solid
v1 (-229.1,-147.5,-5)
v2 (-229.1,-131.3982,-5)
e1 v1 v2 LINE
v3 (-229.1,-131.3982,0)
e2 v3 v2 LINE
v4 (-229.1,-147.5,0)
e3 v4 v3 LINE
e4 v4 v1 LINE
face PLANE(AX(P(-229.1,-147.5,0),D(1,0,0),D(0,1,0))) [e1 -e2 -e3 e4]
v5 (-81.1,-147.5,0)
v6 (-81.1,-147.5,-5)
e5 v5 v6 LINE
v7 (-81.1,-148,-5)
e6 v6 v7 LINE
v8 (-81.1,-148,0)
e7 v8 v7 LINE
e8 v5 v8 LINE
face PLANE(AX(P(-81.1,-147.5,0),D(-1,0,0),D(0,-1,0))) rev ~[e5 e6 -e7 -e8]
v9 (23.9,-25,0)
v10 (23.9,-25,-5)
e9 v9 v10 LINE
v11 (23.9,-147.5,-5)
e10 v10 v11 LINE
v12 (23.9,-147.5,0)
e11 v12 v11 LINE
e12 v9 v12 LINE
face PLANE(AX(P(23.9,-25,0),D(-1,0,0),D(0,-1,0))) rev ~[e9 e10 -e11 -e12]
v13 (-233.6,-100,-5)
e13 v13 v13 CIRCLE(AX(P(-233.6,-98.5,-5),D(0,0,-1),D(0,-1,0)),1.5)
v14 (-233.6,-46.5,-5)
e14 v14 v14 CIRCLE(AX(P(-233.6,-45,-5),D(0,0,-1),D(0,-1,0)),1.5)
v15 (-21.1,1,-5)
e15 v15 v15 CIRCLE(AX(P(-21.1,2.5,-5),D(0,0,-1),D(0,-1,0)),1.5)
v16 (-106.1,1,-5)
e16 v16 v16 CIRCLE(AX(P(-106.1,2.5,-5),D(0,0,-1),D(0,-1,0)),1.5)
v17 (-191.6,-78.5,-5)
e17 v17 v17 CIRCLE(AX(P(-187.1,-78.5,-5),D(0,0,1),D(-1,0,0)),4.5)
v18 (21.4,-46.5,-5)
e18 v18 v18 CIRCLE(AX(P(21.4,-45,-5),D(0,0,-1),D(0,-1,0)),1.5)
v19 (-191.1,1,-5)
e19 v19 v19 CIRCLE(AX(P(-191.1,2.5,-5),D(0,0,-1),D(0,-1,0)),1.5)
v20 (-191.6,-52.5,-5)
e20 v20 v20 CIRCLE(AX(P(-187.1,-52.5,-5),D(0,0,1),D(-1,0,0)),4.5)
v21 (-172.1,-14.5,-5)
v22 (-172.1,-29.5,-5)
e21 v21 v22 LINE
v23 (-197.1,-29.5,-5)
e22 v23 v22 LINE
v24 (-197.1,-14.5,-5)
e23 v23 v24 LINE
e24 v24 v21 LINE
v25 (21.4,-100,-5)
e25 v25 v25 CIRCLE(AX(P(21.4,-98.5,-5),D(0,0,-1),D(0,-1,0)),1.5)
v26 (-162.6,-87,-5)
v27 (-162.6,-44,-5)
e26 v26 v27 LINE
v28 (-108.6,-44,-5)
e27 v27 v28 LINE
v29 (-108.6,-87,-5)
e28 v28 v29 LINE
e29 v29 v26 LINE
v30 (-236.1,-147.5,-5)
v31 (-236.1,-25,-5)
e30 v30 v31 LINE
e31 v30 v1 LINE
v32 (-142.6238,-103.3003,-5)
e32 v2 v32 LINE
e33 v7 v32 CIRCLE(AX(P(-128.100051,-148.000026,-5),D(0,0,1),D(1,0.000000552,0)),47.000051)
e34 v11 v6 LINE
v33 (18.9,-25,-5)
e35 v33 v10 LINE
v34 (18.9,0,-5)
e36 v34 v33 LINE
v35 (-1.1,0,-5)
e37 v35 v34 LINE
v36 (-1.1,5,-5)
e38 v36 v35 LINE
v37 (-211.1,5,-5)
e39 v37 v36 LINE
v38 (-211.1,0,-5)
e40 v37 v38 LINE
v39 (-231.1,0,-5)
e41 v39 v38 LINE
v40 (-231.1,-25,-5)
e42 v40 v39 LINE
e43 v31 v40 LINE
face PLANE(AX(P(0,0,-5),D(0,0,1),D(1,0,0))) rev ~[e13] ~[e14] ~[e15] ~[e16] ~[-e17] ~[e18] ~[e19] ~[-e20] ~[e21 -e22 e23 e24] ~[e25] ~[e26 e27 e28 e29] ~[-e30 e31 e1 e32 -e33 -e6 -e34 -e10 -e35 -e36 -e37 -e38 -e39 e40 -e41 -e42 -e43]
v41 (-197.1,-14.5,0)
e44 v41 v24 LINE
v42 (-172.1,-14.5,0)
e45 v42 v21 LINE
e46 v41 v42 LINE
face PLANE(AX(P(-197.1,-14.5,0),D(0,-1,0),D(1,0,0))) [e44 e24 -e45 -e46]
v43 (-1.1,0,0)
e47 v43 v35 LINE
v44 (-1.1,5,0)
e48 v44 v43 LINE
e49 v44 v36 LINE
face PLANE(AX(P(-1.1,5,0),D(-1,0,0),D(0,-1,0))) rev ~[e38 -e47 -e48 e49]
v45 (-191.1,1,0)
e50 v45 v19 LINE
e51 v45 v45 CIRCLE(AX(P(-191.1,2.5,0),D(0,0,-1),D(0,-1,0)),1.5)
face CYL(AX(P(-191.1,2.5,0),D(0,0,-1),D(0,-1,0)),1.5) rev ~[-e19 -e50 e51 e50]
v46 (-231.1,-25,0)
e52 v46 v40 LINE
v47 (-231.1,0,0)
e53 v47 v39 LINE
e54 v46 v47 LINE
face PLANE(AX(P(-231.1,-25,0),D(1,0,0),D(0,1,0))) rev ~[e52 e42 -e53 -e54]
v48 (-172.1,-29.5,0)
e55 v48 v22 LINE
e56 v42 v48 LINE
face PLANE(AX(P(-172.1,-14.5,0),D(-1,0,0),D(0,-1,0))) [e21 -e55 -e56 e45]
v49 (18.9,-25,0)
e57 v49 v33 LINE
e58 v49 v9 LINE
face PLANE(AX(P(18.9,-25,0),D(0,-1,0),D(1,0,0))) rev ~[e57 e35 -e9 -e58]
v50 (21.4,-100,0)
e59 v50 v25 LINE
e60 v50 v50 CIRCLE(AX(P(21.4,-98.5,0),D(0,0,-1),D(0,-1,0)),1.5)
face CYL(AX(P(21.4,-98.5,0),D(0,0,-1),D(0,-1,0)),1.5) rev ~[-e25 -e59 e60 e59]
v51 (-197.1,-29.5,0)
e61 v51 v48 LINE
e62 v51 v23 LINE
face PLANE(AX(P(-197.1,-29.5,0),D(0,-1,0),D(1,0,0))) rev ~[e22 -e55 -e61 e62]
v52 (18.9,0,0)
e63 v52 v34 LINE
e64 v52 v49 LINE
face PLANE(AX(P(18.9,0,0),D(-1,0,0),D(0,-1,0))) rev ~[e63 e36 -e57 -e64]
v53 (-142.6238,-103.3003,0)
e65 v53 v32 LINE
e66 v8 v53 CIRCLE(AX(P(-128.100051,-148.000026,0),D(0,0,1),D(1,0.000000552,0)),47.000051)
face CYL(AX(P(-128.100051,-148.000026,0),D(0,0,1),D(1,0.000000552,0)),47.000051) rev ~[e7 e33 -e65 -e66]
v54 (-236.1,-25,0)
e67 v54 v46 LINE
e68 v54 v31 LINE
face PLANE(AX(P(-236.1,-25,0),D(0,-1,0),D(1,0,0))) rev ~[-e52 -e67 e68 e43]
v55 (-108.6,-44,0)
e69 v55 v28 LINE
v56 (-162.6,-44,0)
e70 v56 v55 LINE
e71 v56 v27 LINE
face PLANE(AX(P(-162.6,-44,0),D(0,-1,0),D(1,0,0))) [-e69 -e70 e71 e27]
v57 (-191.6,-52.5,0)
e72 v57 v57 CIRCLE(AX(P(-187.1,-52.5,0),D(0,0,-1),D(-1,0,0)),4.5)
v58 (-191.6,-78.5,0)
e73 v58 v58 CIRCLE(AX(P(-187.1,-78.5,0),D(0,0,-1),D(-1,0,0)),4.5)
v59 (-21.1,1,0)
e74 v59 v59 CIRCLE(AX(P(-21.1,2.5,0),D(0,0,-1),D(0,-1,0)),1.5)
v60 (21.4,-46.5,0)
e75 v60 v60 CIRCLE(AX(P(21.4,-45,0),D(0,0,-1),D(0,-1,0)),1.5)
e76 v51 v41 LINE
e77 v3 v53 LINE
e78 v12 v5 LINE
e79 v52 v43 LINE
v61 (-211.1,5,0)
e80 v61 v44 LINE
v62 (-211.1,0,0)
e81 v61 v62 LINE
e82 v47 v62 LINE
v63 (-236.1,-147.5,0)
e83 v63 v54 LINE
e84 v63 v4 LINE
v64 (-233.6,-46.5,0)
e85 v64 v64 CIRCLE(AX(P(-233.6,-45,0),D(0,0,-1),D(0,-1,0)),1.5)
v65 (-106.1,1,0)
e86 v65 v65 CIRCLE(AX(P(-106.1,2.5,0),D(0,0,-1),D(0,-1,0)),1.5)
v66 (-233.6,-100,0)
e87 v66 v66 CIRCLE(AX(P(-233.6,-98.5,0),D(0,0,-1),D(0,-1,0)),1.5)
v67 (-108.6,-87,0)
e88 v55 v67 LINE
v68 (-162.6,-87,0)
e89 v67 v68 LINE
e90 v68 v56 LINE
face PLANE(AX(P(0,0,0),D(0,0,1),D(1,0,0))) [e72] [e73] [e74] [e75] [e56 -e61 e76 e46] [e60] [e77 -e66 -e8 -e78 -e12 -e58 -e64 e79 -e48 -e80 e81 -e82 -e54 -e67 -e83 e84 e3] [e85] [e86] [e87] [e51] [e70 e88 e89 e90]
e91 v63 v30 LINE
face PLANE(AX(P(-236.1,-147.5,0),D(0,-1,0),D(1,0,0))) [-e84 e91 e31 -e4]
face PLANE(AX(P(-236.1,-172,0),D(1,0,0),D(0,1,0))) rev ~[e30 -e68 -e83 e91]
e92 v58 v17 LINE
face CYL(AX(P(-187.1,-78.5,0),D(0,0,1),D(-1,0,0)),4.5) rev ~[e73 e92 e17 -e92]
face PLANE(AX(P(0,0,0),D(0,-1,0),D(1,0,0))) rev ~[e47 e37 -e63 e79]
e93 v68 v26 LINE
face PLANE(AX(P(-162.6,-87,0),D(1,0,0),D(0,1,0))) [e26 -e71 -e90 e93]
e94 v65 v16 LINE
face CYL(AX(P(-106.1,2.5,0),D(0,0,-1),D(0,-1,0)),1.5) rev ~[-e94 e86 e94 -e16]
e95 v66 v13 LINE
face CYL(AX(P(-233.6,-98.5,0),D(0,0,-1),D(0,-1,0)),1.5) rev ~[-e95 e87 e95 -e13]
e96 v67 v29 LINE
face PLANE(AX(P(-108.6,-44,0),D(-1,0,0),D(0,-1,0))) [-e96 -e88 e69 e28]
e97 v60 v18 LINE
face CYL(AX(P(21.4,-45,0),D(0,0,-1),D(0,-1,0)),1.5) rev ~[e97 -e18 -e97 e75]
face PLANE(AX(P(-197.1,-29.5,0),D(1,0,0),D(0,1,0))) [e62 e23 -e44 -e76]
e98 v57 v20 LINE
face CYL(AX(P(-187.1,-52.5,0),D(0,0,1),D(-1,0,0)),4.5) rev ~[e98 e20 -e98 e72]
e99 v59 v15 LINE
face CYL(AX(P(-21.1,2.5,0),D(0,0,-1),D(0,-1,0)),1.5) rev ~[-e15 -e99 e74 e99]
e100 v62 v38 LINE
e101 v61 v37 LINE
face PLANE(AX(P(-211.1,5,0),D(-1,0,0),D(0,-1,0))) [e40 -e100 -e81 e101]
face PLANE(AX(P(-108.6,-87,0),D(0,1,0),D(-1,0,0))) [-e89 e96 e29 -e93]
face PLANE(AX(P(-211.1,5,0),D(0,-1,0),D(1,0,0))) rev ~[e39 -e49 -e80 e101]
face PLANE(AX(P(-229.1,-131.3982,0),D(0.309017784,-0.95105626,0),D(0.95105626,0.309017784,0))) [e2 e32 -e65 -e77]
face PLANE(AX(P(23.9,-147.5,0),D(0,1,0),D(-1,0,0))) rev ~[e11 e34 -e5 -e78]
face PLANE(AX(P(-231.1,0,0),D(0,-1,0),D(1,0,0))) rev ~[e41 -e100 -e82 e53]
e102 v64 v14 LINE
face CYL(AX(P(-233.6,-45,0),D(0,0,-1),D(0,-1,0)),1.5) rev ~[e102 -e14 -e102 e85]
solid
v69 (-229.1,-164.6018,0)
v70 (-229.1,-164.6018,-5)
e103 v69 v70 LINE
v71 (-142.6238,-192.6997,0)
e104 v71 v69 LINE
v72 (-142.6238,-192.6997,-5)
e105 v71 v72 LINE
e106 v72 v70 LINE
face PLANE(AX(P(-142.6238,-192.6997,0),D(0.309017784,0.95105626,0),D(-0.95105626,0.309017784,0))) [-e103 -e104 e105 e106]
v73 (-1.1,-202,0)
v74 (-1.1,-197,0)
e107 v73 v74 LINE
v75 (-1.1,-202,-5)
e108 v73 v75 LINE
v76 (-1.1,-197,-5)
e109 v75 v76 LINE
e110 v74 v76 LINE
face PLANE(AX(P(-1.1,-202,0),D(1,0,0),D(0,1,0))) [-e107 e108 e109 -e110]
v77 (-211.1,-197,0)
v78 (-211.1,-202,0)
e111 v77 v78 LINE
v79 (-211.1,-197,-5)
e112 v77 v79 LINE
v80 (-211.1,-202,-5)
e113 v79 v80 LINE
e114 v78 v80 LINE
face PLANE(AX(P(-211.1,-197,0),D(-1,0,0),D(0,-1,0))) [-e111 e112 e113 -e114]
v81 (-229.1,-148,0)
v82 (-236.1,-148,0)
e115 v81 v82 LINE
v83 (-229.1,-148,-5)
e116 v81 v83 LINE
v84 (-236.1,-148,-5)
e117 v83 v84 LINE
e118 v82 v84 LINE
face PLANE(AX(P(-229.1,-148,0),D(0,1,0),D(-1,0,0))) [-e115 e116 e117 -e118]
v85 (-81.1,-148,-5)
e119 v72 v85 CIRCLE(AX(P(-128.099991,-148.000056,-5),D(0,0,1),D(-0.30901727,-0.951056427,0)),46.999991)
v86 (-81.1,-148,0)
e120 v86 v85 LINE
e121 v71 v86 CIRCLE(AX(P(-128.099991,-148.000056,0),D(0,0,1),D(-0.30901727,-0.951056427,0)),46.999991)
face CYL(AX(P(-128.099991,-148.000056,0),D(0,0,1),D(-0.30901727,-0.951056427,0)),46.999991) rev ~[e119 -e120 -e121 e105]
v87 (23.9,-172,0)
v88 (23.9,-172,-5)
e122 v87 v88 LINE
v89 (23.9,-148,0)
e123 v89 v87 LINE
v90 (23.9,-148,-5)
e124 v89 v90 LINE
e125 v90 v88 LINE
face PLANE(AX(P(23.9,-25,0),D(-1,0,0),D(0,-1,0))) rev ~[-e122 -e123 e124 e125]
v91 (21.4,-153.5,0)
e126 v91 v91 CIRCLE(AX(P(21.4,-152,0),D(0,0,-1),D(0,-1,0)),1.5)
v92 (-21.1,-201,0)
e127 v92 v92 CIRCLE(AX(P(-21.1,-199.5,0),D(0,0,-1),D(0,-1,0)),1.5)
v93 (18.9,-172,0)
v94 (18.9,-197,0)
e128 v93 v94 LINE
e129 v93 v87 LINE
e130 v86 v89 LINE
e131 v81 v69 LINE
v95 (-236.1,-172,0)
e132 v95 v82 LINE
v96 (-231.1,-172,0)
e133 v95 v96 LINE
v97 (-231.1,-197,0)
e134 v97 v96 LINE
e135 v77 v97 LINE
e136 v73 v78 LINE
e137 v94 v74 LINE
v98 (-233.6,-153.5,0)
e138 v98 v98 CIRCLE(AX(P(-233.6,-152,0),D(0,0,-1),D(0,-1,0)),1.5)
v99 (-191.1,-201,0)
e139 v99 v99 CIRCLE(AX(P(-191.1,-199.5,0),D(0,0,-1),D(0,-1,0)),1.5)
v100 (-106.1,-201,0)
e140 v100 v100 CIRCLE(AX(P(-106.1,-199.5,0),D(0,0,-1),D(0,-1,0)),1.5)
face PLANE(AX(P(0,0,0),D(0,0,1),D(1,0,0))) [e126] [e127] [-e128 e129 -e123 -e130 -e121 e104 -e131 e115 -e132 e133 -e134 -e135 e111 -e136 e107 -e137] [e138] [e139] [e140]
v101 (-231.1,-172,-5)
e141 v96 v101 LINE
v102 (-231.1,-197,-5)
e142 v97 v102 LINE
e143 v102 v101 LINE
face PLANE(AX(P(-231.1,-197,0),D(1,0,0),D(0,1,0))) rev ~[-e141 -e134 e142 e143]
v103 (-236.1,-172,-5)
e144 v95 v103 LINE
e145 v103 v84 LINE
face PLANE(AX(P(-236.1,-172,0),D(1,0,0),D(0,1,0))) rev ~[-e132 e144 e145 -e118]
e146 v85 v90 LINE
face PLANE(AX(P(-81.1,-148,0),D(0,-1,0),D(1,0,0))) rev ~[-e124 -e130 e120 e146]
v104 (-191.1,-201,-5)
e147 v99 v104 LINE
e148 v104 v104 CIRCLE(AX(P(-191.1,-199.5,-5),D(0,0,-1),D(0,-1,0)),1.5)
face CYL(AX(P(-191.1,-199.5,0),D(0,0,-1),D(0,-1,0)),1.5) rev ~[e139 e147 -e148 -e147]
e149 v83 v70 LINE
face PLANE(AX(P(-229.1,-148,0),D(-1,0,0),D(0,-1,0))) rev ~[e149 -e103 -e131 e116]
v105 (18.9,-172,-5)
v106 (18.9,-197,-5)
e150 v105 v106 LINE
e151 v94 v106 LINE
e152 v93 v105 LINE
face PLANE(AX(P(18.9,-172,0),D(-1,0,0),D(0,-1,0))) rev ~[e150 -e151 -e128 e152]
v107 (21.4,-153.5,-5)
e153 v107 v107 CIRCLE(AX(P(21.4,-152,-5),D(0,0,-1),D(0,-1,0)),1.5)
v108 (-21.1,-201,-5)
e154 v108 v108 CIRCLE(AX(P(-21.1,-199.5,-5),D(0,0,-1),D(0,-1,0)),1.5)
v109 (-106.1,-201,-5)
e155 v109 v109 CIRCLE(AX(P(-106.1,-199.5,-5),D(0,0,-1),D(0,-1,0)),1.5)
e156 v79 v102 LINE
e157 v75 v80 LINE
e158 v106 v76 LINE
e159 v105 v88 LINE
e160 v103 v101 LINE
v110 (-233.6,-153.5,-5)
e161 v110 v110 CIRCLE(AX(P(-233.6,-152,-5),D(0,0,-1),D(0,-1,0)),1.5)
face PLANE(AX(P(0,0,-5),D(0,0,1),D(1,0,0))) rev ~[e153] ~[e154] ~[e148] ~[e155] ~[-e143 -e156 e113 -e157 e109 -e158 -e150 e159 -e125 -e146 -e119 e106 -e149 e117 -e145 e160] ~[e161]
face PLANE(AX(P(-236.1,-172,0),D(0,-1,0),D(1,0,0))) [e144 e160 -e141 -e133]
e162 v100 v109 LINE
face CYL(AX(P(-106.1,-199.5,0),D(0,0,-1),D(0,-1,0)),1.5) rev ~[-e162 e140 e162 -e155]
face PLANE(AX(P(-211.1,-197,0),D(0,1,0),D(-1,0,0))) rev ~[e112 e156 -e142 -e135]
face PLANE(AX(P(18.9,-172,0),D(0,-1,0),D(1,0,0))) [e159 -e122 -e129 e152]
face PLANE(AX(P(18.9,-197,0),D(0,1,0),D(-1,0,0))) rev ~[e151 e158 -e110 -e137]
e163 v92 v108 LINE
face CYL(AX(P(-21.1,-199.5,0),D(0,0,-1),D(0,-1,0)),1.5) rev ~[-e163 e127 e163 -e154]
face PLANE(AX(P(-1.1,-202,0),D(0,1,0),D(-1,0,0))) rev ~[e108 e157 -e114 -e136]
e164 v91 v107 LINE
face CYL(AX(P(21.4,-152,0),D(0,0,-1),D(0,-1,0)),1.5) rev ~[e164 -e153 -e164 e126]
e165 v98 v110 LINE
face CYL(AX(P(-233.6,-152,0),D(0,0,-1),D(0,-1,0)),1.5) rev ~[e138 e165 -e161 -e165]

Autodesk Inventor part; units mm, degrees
ref_plane "YZ Plane" through (0, 0, 0) normal (1, 0, 0) x (0, 1, 0)
ref_plane "XZ Plane" through (0, 0, 0) normal (0, 1, 0) x (-1, 0, 0)
ref_plane "XY Plane" through (0, 0, 0) normal (0, 0, 1) x (1, 0, 0)
sketch "Sketch1" plane through (0, 0, 0) normal (0, 0, 1) x (1, 0, 0)
  line L0 (-236.1, 0) -> (-211.1, 0) construction
  line L1 (-211.1, 0) -> (-211.1, 5) construction
  line L2 (-236.1, 5) -> (-211.1, 5) construction
  line L3 (-236.1, 0) -> (-236.1, 5) construction
  circle A0 centre (-21.1, 2.5) radius 1.2295 construction
  circle A1 centre (-106.1, 2.5) radius 1.2295 construction
  circle A2 centre (-191.1, 2.5) radius 1.2295 construction
  line L4 (-211.1, 0) -> (0, 0) construction
  line L5 (-1.1, 0) -> (-1.1, 5) construction
  line L6 (-211.1, 5) -> (-1.1, 5) construction
  line L7 (-211.1, 0) -> (-211.1, 5) construction
  line L8 (0, 0) -> (23.9, 0) construction
  line L9 (23.9, 0) -> (23.9, 5) construction
  line L10 (-1.1, 5) -> (23.9, 5) construction
  line L11 (-1.1, 0) -> (-1.1, 5) construction
  line L12 (18.9, 0) -> (18.9, -25) construction
  line L13 (18.9, -25) -> (23.9, -25) construction
  line L14 (23.9, 0) -> (23.9, -25) construction
  line L15 (18.9, 0) -> (23.9, 0) construction
  circle A3 centre (21.4, -45) radius 1.2295 construction
  circle A4 centre (21.4, -98.5) radius 1.2295 construction
  circle A5 centre (21.4, -152) radius 1.2295 construction
  line L16 (18.9, -25) -> (18.9, -172) construction
  line L17 (18.9, -172) -> (23.9, -172) construction
  line L18 (23.9, -25) -> (23.9, -172) construction
  line L19 (18.9, -25) -> (23.9, -25) construction
  line L20 (-236.1, 0) -> (-236.1, -25) construction
  line L21 (-236.1, -25) -> (-231.1, -25) construction
  line L22 (-231.1, 0) -> (-231.1, -25) construction
  line L23 (-236.1, 0) -> (-231.1, 0) construction
  circle A6 centre (-233.6, -45) radius 1.2295 construction
  circle A7 centre (-233.6, -98.5) radius 1.2295 construction
  circle A8 centre (-233.6, -152) radius 1.2295 construction
  line L24 (-236.1, -25) -> (-236.1, -172) construction
  line L25 (-236.1, -172) -> (-231.1, -172) construction
  line L26 (-231.1, -25) -> (-231.1, -172) construction
  line L27 (-236.1, -25) -> (-231.1, -25) construction
  line L28 (-236.1, -172) -> (-236.1, -197) construction
  line L29 (-236.1, -197) -> (-231.1, -197) construction
  line L30 (-231.1, -172) -> (-231.1, -197) construction
  line L31 (-236.1, -172) -> (-231.1, -172) construction
  line L32 (-211.1, -197) -> (-236.1, -197) construction
  line L33 (-236.1, -197) -> (-236.1, -202) construction
  line L34 (-211.1, -202) -> (-236.1, -202) construction
  line L35 (-211.1, -197) -> (-211.1, -202) construction
  circle A9 centre (-191.1, -199.5) radius 1.2295 construction
  circle A10 centre (-106.1, -199.5) radius 1.2295 construction
  circle A11 centre (-21.1, -199.5) radius 1.2295 construction
  line L36 (-1.1, -197) -> (-211.1, -197) construction
  line L37 (-211.1, -197) -> (-211.1, -202) construction
  line L38 (-1.1, -202) -> (-211.1, -202) construction
  line L39 (-1.1, -197) -> (-1.1, -202) construction
  line L40 (23.9, -197) -> (-1.1, -197) construction
  line L41 (-1.1, -197) -> (-1.1, -202) construction
  line L42 (23.9, -202) -> (-1.1, -202) construction
  line L43 (23.9, -197) -> (23.9, -202) construction
  line L44 (18.9, -172) -> (18.9, -197) construction
  line L45 (18.9, -197) -> (23.9, -197) construction
  line L46 (23.9, -172) -> (23.9, -197) construction
  line L47 (18.9, -172) -> (23.9, -172) construction
  line L48 (-1.1, -202) -> (-211.1, -202)
  line L49 (-211.1, -197) -> (-231.1, -197)
  line L50 (-231.1, -197) -> (-231.1, -172)
  line L51 (-236.1, -172) -> (-236.1, -25)
  line L52 (-231.1, -25) -> (-231.1, 0)
  line L53 (-231.1, 0) -> (-211.1, 0)
  line L54 (-211.1, 5) -> (-1.1, 5)
  line L55 (0, 0) -> (18.9, 0)
  line L56 (18.9, 0) -> (18.9, -25)
  line L57 (23.9, -25) -> (23.9, -172)
  line L58 (18.9, -172) -> (18.9, -197)
  line L59 (18.9, -197) -> (-1.1, -197)
  line L60 (-236.1, -172) -> (-231.1, -172)
  line L61 (-211.1, -197) -> (-211.1, -202)
  line L62 (-1.1, -202) -> (-1.1, -197)
  line L63 (18.9, -172) -> (23.9, -172)
  line L64 (18.9, -172) -> (18.9, -172)
  line L65 (18.9, -25) -> (23.9, -25)
  line L66 (18.9, -25) -> (18.9, -25)
  line L67 (-1.1, 5) -> (-1.1, 0)
  line L68 (-1.1, 0) -> (0, 0)
  line L69 (-211.1, 5) -> (-211.1, 0)
  line L70 (-211.1, 0) -> (-211.1, 0)
  line L71 (-236.1, -25) -> (-231.1, -25)
  line L72 (-231.1, -25) -> (-231.1, -25)
  dimension "d0" = 0
  dimension "d1" = 0
  dimension "d2" = 0
  dimension "d3" = 0
  dimension "d4" = 0
  dimension "d5" = 0
  dimension "d6" = 0
  dimension "d7" = 0
extrude "Extrusion1" add sketch "Sketch1" against normal blind 5
sketch "Sketch2" plane through (0, 0, 0) normal (0, 0, 1) x (1, 0, 0)
  circle A0 centre (-21.1, -199.5) radius 1.2295 construction
  circle A1 centre (-106.1, -199.5) radius 1.2295 construction
  circle A2 centre (-191.1, -199.5) radius 1.2295 construction
  circle A3 centre (-233.6, -152) radius 1.2295 construction
  circle A4 centre (-233.6, -98.5) radius 1.2295 construction
  circle A5 centre (-233.6, -45) radius 1.2295 construction
  circle A6 centre (-191.1, 2.5) radius 1.2295 construction
  circle A7 centre (-106.1, 2.5) radius 1.2295 construction
  circle A8 centre (-21.1, 2.5) radius 1.2295 construction
  circle A9 centre (21.4, -45) radius 1.2295 construction
  circle A10 centre (21.4, -98.5) radius 1.2295 construction
  circle A11 centre (21.4, -152) radius 1.2295 construction
  point P0 (0, 0)
hole "Hole1" [suppressed]
sketch "Sketch3" plane through (0, 0, 0) normal (0, 0, 1) x (1, 0, 0)
  line L0 (-226.1, -127) -> (-226.1, -167) construction
  line L1 (-226.1, -167) -> (-134.2686, -186.157) construction
  arc A0 (-134.2686, -186.157) -> (-134.2686, -107.843) centre (-126.1, -147) ccw construction
  line L2 (-134.2686, -107.843) -> (-226.1, -127) construction
  line L3 (-134.677, -188.1149) -> (-228.1, -168.6258)
  line L4 (-228.1, -168.6258) -> (-228.1, -125.3742)
  line L5 (-228.1, -125.3742) -> (-134.677, -105.8851)
  arc A1 (-134.677, -188.1149) -> (-134.677, -105.8851) centre (-126.1, -147) ccw
  circle A2 centre (-203.1, -97) radius 12.5
  point P0 (0, 0)
  dimension "d17" = 2
  dimension "d18" = 50
  dimension "d19" = 25
  dimension "d20" = 25
extrude "Extrusion2" [suppressed]
sketch "Sketch4" plane through (0, 0, 0) normal (0, 0, 1) x (1, 0, 0)
  circle A0 centre (-233.6, -152) radius 1.2295 construction
  circle A1 centre (-233.6, -98.5) radius 1.2295 construction
  circle A2 centre (-233.6, -45) radius 1.2295 construction
  circle A3 centre (-191.1, -199.5) radius 1.2295 construction
  circle A4 centre (-106.1, -199.5) radius 1.2295 construction
  circle A5 centre (-21.1, -199.5) radius 1.2295 construction
  circle A6 centre (21.4, -152) radius 1.2295 construction
  circle A7 centre (21.4, -98.5) radius 1.2295 construction
  circle A8 centre (21.4, -45) radius 1.2295 construction
  circle A9 centre (-21.1, 2.5) radius 1.2295 construction
  circle A10 centre (-106.1, 2.5) radius 1.2295 construction
  circle A11 centre (-191.1, 2.5) radius 1.2295 construction
  point P0 (0, 0)
hole "Hole2" at (-21.1, 2.5, 0) at (-106.1, 2.5, 0) at (-191.1, 2.5, 0) at (-233.6, -45, 0) at (-233.6, -98.5, 0) at (-233.6, -152, 0) at (-191.1, -199.5, 0) at (-106.1, -199.5, 0) at (-21.1, -199.5, 0) at (21.4, -152, 0) at (21.4, -98.5, 0) at (21.4, -45, 0) direction (0, 0, -1) diameter 3 end through all
sketch "Sketch5" plane through (0, 0, 0) normal (0, 0, 1) x (1, 0, 0)
  arc A0 (-81.1, -148) -> (-142.6238, -103.3003) centre (-128.1, -148) ccw projected
  arc A1 (-142.6238, -192.6997) -> (-81.1, -148) centre (-128.1, -148) ccw projected
  line L0 (-142.6238, -192.6997) -> (-229.1, -164.6018) projected
  line L1 (-229.1, -148) -> (-229.1, -164.6018) projected
  line L2 (-229.1, -148) -> (-229.1, -131.3982) projected
  line L3 (-229.1, -131.3982) -> (-142.6238, -103.3003) projected
  line L4 (-108.6, -87) -> (-162.6, -87) projected
  line L5 (-108.6, -44) -> (-108.6, -87) projected
  line L6 (-162.6, -87) -> (-162.6, -44) projected
  line L7 (-162.6, -44) -> (-108.6, -44) projected
  arc A2 (-182.6, -52.5) -> (-191.6, -52.5) centre (-187.1, -52.5) ccw projected
  arc A3 (-191.6, -52.5) -> (-182.6, -52.5) centre (-187.1, -52.5) ccw projected
  arc A4 (-182.6, -78.5) -> (-191.6, -78.5) centre (-187.1, -78.5) ccw projected
  arc A5 (-191.6, -78.5) -> (-182.6, -78.5) centre (-187.1, -78.5) ccw projected
  line L8 (-172.1, -14.5) -> (-172.1, -29.5) projected
  line L9 (-197.1, -29.5) -> (-172.1, -29.5) projected
  line L10 (-197.1, -29.5) -> (-197.1, -14.5) projected
  line L11 (-197.1, -14.5) -> (-172.1, -14.5) projected
  line L12 (23.9, -148) -> (-81.1, -148) construction
  circle A6 centre (21.4, -98.5) radius 1.5 construction
  circle A7 centre (-21.1, -199.5) radius 1.5 construction
  circle A8 centre (-191.1, -199.5) radius 1.5 construction
  circle A9 centre (-233.6, -98.5) radius 1.5 construction
  circle A10 centre (-191.1, 2.5) radius 1.5 construction
  circle A11 centre (-21.1, 2.5) radius 1.5 construction
  circle A12 centre (-106.1, 2.5) radius 1.5 construction
  circle A13 centre (-233.6, -45) radius 1.5 construction
  circle A14 centre (-233.6, -152) radius 1.5 construction
  circle A15 centre (-106.1, -199.5) radius 1.5 construction
  circle A16 centre (21.4, -152) radius 1.5 construction
  circle A17 centre (21.4, -45) radius 1.5 construction
  line L13 (-1.1, 0) -> (18.9, 0) construction
  line L14 (18.9, 0) -> (18.9, -25) construction
  line L15 (18.9, -25) -> (23.9, -25) construction
  line L16 (23.9, -25) -> (23.9, -172) construction
  line L17 (23.9, -172) -> (18.9, -172) construction
  line L18 (18.9, -172) -> (18.9, -197) construction
  line L19 (18.9, -197) -> (-1.1, -197) construction
  line L20 (-1.1, -197) -> (-1.1, -202) construction
  line L21 (-1.1, -202) -> (-211.1, -202) construction
  line L22 (-211.1, -202) -> (-211.1, -197) construction
  line L23 (-211.1, -197) -> (-231.1, -197) construction
  line L24 (-231.1, -197) -> (-231.1, -172) construction
  line L25 (-231.1, -172) -> (-236.1, -172) construction
  line L26 (-236.1, -172) -> (-236.1, -25) construction
  line L27 (-236.1, -25) -> (-231.1, -25) construction
  line L28 (-231.1, -25) -> (-231.1, 0) construction
  line L29 (-231.1, 0) -> (-211.1, 0) construction
  line L30 (-211.1, 0) -> (-211.1, 5) construction
  line L31 (-211.1, 5) -> (-1.1, 5) construction
  line L32 (-1.1, 5) -> (-1.1, 0) construction
  line L33 (-229.1, -148) -> (-241.1, -148) construction
  line L34 (-229.1, -148) -> (-241.1, -148) construction
  line L35 (-229.1, -148) -> (-241.1, -148) construction
  line L36 (-236.1, -172) -> (-236.1, -25) projected
  line L37 (-229.1, -148) -> (-236.1, -148)
  line L38 (-236.1, -148) -> (-236.1, -147.5)
  line L39 (-236.1, -147.5) -> (-229.1, -147.5)
  line L40 (-229.1, -147.5) -> (-229.1, -148)
  line L41 (23.9, -25) -> (23.9, -172) projected
  line L42 (-81.1, -148) -> (23.9, -148)
  line L43 (23.9, -148) -> (23.9, -147.5)
  line L44 (23.9, -147.5) -> (-81.1, -147.5)
  line L45 (-81.1, -147.5) -> (-81.1, -148)
  point P0 (0, 0)
  dimension "d30" = 0.5
  dimension "d31" = 0.5
extrude "Extrusion3" cut sketch "Sketch5" against normal through all
equation "\"d8\" = plate_thickness"
equation "\"plate_thickness\" = 5"
equation "\"basic_plate_offset\" = 0"
equation "\"ABS_tolerance\" = 0"
equation "\"laser_cutter_thickness\" = 0.1"
properties part number "top"
